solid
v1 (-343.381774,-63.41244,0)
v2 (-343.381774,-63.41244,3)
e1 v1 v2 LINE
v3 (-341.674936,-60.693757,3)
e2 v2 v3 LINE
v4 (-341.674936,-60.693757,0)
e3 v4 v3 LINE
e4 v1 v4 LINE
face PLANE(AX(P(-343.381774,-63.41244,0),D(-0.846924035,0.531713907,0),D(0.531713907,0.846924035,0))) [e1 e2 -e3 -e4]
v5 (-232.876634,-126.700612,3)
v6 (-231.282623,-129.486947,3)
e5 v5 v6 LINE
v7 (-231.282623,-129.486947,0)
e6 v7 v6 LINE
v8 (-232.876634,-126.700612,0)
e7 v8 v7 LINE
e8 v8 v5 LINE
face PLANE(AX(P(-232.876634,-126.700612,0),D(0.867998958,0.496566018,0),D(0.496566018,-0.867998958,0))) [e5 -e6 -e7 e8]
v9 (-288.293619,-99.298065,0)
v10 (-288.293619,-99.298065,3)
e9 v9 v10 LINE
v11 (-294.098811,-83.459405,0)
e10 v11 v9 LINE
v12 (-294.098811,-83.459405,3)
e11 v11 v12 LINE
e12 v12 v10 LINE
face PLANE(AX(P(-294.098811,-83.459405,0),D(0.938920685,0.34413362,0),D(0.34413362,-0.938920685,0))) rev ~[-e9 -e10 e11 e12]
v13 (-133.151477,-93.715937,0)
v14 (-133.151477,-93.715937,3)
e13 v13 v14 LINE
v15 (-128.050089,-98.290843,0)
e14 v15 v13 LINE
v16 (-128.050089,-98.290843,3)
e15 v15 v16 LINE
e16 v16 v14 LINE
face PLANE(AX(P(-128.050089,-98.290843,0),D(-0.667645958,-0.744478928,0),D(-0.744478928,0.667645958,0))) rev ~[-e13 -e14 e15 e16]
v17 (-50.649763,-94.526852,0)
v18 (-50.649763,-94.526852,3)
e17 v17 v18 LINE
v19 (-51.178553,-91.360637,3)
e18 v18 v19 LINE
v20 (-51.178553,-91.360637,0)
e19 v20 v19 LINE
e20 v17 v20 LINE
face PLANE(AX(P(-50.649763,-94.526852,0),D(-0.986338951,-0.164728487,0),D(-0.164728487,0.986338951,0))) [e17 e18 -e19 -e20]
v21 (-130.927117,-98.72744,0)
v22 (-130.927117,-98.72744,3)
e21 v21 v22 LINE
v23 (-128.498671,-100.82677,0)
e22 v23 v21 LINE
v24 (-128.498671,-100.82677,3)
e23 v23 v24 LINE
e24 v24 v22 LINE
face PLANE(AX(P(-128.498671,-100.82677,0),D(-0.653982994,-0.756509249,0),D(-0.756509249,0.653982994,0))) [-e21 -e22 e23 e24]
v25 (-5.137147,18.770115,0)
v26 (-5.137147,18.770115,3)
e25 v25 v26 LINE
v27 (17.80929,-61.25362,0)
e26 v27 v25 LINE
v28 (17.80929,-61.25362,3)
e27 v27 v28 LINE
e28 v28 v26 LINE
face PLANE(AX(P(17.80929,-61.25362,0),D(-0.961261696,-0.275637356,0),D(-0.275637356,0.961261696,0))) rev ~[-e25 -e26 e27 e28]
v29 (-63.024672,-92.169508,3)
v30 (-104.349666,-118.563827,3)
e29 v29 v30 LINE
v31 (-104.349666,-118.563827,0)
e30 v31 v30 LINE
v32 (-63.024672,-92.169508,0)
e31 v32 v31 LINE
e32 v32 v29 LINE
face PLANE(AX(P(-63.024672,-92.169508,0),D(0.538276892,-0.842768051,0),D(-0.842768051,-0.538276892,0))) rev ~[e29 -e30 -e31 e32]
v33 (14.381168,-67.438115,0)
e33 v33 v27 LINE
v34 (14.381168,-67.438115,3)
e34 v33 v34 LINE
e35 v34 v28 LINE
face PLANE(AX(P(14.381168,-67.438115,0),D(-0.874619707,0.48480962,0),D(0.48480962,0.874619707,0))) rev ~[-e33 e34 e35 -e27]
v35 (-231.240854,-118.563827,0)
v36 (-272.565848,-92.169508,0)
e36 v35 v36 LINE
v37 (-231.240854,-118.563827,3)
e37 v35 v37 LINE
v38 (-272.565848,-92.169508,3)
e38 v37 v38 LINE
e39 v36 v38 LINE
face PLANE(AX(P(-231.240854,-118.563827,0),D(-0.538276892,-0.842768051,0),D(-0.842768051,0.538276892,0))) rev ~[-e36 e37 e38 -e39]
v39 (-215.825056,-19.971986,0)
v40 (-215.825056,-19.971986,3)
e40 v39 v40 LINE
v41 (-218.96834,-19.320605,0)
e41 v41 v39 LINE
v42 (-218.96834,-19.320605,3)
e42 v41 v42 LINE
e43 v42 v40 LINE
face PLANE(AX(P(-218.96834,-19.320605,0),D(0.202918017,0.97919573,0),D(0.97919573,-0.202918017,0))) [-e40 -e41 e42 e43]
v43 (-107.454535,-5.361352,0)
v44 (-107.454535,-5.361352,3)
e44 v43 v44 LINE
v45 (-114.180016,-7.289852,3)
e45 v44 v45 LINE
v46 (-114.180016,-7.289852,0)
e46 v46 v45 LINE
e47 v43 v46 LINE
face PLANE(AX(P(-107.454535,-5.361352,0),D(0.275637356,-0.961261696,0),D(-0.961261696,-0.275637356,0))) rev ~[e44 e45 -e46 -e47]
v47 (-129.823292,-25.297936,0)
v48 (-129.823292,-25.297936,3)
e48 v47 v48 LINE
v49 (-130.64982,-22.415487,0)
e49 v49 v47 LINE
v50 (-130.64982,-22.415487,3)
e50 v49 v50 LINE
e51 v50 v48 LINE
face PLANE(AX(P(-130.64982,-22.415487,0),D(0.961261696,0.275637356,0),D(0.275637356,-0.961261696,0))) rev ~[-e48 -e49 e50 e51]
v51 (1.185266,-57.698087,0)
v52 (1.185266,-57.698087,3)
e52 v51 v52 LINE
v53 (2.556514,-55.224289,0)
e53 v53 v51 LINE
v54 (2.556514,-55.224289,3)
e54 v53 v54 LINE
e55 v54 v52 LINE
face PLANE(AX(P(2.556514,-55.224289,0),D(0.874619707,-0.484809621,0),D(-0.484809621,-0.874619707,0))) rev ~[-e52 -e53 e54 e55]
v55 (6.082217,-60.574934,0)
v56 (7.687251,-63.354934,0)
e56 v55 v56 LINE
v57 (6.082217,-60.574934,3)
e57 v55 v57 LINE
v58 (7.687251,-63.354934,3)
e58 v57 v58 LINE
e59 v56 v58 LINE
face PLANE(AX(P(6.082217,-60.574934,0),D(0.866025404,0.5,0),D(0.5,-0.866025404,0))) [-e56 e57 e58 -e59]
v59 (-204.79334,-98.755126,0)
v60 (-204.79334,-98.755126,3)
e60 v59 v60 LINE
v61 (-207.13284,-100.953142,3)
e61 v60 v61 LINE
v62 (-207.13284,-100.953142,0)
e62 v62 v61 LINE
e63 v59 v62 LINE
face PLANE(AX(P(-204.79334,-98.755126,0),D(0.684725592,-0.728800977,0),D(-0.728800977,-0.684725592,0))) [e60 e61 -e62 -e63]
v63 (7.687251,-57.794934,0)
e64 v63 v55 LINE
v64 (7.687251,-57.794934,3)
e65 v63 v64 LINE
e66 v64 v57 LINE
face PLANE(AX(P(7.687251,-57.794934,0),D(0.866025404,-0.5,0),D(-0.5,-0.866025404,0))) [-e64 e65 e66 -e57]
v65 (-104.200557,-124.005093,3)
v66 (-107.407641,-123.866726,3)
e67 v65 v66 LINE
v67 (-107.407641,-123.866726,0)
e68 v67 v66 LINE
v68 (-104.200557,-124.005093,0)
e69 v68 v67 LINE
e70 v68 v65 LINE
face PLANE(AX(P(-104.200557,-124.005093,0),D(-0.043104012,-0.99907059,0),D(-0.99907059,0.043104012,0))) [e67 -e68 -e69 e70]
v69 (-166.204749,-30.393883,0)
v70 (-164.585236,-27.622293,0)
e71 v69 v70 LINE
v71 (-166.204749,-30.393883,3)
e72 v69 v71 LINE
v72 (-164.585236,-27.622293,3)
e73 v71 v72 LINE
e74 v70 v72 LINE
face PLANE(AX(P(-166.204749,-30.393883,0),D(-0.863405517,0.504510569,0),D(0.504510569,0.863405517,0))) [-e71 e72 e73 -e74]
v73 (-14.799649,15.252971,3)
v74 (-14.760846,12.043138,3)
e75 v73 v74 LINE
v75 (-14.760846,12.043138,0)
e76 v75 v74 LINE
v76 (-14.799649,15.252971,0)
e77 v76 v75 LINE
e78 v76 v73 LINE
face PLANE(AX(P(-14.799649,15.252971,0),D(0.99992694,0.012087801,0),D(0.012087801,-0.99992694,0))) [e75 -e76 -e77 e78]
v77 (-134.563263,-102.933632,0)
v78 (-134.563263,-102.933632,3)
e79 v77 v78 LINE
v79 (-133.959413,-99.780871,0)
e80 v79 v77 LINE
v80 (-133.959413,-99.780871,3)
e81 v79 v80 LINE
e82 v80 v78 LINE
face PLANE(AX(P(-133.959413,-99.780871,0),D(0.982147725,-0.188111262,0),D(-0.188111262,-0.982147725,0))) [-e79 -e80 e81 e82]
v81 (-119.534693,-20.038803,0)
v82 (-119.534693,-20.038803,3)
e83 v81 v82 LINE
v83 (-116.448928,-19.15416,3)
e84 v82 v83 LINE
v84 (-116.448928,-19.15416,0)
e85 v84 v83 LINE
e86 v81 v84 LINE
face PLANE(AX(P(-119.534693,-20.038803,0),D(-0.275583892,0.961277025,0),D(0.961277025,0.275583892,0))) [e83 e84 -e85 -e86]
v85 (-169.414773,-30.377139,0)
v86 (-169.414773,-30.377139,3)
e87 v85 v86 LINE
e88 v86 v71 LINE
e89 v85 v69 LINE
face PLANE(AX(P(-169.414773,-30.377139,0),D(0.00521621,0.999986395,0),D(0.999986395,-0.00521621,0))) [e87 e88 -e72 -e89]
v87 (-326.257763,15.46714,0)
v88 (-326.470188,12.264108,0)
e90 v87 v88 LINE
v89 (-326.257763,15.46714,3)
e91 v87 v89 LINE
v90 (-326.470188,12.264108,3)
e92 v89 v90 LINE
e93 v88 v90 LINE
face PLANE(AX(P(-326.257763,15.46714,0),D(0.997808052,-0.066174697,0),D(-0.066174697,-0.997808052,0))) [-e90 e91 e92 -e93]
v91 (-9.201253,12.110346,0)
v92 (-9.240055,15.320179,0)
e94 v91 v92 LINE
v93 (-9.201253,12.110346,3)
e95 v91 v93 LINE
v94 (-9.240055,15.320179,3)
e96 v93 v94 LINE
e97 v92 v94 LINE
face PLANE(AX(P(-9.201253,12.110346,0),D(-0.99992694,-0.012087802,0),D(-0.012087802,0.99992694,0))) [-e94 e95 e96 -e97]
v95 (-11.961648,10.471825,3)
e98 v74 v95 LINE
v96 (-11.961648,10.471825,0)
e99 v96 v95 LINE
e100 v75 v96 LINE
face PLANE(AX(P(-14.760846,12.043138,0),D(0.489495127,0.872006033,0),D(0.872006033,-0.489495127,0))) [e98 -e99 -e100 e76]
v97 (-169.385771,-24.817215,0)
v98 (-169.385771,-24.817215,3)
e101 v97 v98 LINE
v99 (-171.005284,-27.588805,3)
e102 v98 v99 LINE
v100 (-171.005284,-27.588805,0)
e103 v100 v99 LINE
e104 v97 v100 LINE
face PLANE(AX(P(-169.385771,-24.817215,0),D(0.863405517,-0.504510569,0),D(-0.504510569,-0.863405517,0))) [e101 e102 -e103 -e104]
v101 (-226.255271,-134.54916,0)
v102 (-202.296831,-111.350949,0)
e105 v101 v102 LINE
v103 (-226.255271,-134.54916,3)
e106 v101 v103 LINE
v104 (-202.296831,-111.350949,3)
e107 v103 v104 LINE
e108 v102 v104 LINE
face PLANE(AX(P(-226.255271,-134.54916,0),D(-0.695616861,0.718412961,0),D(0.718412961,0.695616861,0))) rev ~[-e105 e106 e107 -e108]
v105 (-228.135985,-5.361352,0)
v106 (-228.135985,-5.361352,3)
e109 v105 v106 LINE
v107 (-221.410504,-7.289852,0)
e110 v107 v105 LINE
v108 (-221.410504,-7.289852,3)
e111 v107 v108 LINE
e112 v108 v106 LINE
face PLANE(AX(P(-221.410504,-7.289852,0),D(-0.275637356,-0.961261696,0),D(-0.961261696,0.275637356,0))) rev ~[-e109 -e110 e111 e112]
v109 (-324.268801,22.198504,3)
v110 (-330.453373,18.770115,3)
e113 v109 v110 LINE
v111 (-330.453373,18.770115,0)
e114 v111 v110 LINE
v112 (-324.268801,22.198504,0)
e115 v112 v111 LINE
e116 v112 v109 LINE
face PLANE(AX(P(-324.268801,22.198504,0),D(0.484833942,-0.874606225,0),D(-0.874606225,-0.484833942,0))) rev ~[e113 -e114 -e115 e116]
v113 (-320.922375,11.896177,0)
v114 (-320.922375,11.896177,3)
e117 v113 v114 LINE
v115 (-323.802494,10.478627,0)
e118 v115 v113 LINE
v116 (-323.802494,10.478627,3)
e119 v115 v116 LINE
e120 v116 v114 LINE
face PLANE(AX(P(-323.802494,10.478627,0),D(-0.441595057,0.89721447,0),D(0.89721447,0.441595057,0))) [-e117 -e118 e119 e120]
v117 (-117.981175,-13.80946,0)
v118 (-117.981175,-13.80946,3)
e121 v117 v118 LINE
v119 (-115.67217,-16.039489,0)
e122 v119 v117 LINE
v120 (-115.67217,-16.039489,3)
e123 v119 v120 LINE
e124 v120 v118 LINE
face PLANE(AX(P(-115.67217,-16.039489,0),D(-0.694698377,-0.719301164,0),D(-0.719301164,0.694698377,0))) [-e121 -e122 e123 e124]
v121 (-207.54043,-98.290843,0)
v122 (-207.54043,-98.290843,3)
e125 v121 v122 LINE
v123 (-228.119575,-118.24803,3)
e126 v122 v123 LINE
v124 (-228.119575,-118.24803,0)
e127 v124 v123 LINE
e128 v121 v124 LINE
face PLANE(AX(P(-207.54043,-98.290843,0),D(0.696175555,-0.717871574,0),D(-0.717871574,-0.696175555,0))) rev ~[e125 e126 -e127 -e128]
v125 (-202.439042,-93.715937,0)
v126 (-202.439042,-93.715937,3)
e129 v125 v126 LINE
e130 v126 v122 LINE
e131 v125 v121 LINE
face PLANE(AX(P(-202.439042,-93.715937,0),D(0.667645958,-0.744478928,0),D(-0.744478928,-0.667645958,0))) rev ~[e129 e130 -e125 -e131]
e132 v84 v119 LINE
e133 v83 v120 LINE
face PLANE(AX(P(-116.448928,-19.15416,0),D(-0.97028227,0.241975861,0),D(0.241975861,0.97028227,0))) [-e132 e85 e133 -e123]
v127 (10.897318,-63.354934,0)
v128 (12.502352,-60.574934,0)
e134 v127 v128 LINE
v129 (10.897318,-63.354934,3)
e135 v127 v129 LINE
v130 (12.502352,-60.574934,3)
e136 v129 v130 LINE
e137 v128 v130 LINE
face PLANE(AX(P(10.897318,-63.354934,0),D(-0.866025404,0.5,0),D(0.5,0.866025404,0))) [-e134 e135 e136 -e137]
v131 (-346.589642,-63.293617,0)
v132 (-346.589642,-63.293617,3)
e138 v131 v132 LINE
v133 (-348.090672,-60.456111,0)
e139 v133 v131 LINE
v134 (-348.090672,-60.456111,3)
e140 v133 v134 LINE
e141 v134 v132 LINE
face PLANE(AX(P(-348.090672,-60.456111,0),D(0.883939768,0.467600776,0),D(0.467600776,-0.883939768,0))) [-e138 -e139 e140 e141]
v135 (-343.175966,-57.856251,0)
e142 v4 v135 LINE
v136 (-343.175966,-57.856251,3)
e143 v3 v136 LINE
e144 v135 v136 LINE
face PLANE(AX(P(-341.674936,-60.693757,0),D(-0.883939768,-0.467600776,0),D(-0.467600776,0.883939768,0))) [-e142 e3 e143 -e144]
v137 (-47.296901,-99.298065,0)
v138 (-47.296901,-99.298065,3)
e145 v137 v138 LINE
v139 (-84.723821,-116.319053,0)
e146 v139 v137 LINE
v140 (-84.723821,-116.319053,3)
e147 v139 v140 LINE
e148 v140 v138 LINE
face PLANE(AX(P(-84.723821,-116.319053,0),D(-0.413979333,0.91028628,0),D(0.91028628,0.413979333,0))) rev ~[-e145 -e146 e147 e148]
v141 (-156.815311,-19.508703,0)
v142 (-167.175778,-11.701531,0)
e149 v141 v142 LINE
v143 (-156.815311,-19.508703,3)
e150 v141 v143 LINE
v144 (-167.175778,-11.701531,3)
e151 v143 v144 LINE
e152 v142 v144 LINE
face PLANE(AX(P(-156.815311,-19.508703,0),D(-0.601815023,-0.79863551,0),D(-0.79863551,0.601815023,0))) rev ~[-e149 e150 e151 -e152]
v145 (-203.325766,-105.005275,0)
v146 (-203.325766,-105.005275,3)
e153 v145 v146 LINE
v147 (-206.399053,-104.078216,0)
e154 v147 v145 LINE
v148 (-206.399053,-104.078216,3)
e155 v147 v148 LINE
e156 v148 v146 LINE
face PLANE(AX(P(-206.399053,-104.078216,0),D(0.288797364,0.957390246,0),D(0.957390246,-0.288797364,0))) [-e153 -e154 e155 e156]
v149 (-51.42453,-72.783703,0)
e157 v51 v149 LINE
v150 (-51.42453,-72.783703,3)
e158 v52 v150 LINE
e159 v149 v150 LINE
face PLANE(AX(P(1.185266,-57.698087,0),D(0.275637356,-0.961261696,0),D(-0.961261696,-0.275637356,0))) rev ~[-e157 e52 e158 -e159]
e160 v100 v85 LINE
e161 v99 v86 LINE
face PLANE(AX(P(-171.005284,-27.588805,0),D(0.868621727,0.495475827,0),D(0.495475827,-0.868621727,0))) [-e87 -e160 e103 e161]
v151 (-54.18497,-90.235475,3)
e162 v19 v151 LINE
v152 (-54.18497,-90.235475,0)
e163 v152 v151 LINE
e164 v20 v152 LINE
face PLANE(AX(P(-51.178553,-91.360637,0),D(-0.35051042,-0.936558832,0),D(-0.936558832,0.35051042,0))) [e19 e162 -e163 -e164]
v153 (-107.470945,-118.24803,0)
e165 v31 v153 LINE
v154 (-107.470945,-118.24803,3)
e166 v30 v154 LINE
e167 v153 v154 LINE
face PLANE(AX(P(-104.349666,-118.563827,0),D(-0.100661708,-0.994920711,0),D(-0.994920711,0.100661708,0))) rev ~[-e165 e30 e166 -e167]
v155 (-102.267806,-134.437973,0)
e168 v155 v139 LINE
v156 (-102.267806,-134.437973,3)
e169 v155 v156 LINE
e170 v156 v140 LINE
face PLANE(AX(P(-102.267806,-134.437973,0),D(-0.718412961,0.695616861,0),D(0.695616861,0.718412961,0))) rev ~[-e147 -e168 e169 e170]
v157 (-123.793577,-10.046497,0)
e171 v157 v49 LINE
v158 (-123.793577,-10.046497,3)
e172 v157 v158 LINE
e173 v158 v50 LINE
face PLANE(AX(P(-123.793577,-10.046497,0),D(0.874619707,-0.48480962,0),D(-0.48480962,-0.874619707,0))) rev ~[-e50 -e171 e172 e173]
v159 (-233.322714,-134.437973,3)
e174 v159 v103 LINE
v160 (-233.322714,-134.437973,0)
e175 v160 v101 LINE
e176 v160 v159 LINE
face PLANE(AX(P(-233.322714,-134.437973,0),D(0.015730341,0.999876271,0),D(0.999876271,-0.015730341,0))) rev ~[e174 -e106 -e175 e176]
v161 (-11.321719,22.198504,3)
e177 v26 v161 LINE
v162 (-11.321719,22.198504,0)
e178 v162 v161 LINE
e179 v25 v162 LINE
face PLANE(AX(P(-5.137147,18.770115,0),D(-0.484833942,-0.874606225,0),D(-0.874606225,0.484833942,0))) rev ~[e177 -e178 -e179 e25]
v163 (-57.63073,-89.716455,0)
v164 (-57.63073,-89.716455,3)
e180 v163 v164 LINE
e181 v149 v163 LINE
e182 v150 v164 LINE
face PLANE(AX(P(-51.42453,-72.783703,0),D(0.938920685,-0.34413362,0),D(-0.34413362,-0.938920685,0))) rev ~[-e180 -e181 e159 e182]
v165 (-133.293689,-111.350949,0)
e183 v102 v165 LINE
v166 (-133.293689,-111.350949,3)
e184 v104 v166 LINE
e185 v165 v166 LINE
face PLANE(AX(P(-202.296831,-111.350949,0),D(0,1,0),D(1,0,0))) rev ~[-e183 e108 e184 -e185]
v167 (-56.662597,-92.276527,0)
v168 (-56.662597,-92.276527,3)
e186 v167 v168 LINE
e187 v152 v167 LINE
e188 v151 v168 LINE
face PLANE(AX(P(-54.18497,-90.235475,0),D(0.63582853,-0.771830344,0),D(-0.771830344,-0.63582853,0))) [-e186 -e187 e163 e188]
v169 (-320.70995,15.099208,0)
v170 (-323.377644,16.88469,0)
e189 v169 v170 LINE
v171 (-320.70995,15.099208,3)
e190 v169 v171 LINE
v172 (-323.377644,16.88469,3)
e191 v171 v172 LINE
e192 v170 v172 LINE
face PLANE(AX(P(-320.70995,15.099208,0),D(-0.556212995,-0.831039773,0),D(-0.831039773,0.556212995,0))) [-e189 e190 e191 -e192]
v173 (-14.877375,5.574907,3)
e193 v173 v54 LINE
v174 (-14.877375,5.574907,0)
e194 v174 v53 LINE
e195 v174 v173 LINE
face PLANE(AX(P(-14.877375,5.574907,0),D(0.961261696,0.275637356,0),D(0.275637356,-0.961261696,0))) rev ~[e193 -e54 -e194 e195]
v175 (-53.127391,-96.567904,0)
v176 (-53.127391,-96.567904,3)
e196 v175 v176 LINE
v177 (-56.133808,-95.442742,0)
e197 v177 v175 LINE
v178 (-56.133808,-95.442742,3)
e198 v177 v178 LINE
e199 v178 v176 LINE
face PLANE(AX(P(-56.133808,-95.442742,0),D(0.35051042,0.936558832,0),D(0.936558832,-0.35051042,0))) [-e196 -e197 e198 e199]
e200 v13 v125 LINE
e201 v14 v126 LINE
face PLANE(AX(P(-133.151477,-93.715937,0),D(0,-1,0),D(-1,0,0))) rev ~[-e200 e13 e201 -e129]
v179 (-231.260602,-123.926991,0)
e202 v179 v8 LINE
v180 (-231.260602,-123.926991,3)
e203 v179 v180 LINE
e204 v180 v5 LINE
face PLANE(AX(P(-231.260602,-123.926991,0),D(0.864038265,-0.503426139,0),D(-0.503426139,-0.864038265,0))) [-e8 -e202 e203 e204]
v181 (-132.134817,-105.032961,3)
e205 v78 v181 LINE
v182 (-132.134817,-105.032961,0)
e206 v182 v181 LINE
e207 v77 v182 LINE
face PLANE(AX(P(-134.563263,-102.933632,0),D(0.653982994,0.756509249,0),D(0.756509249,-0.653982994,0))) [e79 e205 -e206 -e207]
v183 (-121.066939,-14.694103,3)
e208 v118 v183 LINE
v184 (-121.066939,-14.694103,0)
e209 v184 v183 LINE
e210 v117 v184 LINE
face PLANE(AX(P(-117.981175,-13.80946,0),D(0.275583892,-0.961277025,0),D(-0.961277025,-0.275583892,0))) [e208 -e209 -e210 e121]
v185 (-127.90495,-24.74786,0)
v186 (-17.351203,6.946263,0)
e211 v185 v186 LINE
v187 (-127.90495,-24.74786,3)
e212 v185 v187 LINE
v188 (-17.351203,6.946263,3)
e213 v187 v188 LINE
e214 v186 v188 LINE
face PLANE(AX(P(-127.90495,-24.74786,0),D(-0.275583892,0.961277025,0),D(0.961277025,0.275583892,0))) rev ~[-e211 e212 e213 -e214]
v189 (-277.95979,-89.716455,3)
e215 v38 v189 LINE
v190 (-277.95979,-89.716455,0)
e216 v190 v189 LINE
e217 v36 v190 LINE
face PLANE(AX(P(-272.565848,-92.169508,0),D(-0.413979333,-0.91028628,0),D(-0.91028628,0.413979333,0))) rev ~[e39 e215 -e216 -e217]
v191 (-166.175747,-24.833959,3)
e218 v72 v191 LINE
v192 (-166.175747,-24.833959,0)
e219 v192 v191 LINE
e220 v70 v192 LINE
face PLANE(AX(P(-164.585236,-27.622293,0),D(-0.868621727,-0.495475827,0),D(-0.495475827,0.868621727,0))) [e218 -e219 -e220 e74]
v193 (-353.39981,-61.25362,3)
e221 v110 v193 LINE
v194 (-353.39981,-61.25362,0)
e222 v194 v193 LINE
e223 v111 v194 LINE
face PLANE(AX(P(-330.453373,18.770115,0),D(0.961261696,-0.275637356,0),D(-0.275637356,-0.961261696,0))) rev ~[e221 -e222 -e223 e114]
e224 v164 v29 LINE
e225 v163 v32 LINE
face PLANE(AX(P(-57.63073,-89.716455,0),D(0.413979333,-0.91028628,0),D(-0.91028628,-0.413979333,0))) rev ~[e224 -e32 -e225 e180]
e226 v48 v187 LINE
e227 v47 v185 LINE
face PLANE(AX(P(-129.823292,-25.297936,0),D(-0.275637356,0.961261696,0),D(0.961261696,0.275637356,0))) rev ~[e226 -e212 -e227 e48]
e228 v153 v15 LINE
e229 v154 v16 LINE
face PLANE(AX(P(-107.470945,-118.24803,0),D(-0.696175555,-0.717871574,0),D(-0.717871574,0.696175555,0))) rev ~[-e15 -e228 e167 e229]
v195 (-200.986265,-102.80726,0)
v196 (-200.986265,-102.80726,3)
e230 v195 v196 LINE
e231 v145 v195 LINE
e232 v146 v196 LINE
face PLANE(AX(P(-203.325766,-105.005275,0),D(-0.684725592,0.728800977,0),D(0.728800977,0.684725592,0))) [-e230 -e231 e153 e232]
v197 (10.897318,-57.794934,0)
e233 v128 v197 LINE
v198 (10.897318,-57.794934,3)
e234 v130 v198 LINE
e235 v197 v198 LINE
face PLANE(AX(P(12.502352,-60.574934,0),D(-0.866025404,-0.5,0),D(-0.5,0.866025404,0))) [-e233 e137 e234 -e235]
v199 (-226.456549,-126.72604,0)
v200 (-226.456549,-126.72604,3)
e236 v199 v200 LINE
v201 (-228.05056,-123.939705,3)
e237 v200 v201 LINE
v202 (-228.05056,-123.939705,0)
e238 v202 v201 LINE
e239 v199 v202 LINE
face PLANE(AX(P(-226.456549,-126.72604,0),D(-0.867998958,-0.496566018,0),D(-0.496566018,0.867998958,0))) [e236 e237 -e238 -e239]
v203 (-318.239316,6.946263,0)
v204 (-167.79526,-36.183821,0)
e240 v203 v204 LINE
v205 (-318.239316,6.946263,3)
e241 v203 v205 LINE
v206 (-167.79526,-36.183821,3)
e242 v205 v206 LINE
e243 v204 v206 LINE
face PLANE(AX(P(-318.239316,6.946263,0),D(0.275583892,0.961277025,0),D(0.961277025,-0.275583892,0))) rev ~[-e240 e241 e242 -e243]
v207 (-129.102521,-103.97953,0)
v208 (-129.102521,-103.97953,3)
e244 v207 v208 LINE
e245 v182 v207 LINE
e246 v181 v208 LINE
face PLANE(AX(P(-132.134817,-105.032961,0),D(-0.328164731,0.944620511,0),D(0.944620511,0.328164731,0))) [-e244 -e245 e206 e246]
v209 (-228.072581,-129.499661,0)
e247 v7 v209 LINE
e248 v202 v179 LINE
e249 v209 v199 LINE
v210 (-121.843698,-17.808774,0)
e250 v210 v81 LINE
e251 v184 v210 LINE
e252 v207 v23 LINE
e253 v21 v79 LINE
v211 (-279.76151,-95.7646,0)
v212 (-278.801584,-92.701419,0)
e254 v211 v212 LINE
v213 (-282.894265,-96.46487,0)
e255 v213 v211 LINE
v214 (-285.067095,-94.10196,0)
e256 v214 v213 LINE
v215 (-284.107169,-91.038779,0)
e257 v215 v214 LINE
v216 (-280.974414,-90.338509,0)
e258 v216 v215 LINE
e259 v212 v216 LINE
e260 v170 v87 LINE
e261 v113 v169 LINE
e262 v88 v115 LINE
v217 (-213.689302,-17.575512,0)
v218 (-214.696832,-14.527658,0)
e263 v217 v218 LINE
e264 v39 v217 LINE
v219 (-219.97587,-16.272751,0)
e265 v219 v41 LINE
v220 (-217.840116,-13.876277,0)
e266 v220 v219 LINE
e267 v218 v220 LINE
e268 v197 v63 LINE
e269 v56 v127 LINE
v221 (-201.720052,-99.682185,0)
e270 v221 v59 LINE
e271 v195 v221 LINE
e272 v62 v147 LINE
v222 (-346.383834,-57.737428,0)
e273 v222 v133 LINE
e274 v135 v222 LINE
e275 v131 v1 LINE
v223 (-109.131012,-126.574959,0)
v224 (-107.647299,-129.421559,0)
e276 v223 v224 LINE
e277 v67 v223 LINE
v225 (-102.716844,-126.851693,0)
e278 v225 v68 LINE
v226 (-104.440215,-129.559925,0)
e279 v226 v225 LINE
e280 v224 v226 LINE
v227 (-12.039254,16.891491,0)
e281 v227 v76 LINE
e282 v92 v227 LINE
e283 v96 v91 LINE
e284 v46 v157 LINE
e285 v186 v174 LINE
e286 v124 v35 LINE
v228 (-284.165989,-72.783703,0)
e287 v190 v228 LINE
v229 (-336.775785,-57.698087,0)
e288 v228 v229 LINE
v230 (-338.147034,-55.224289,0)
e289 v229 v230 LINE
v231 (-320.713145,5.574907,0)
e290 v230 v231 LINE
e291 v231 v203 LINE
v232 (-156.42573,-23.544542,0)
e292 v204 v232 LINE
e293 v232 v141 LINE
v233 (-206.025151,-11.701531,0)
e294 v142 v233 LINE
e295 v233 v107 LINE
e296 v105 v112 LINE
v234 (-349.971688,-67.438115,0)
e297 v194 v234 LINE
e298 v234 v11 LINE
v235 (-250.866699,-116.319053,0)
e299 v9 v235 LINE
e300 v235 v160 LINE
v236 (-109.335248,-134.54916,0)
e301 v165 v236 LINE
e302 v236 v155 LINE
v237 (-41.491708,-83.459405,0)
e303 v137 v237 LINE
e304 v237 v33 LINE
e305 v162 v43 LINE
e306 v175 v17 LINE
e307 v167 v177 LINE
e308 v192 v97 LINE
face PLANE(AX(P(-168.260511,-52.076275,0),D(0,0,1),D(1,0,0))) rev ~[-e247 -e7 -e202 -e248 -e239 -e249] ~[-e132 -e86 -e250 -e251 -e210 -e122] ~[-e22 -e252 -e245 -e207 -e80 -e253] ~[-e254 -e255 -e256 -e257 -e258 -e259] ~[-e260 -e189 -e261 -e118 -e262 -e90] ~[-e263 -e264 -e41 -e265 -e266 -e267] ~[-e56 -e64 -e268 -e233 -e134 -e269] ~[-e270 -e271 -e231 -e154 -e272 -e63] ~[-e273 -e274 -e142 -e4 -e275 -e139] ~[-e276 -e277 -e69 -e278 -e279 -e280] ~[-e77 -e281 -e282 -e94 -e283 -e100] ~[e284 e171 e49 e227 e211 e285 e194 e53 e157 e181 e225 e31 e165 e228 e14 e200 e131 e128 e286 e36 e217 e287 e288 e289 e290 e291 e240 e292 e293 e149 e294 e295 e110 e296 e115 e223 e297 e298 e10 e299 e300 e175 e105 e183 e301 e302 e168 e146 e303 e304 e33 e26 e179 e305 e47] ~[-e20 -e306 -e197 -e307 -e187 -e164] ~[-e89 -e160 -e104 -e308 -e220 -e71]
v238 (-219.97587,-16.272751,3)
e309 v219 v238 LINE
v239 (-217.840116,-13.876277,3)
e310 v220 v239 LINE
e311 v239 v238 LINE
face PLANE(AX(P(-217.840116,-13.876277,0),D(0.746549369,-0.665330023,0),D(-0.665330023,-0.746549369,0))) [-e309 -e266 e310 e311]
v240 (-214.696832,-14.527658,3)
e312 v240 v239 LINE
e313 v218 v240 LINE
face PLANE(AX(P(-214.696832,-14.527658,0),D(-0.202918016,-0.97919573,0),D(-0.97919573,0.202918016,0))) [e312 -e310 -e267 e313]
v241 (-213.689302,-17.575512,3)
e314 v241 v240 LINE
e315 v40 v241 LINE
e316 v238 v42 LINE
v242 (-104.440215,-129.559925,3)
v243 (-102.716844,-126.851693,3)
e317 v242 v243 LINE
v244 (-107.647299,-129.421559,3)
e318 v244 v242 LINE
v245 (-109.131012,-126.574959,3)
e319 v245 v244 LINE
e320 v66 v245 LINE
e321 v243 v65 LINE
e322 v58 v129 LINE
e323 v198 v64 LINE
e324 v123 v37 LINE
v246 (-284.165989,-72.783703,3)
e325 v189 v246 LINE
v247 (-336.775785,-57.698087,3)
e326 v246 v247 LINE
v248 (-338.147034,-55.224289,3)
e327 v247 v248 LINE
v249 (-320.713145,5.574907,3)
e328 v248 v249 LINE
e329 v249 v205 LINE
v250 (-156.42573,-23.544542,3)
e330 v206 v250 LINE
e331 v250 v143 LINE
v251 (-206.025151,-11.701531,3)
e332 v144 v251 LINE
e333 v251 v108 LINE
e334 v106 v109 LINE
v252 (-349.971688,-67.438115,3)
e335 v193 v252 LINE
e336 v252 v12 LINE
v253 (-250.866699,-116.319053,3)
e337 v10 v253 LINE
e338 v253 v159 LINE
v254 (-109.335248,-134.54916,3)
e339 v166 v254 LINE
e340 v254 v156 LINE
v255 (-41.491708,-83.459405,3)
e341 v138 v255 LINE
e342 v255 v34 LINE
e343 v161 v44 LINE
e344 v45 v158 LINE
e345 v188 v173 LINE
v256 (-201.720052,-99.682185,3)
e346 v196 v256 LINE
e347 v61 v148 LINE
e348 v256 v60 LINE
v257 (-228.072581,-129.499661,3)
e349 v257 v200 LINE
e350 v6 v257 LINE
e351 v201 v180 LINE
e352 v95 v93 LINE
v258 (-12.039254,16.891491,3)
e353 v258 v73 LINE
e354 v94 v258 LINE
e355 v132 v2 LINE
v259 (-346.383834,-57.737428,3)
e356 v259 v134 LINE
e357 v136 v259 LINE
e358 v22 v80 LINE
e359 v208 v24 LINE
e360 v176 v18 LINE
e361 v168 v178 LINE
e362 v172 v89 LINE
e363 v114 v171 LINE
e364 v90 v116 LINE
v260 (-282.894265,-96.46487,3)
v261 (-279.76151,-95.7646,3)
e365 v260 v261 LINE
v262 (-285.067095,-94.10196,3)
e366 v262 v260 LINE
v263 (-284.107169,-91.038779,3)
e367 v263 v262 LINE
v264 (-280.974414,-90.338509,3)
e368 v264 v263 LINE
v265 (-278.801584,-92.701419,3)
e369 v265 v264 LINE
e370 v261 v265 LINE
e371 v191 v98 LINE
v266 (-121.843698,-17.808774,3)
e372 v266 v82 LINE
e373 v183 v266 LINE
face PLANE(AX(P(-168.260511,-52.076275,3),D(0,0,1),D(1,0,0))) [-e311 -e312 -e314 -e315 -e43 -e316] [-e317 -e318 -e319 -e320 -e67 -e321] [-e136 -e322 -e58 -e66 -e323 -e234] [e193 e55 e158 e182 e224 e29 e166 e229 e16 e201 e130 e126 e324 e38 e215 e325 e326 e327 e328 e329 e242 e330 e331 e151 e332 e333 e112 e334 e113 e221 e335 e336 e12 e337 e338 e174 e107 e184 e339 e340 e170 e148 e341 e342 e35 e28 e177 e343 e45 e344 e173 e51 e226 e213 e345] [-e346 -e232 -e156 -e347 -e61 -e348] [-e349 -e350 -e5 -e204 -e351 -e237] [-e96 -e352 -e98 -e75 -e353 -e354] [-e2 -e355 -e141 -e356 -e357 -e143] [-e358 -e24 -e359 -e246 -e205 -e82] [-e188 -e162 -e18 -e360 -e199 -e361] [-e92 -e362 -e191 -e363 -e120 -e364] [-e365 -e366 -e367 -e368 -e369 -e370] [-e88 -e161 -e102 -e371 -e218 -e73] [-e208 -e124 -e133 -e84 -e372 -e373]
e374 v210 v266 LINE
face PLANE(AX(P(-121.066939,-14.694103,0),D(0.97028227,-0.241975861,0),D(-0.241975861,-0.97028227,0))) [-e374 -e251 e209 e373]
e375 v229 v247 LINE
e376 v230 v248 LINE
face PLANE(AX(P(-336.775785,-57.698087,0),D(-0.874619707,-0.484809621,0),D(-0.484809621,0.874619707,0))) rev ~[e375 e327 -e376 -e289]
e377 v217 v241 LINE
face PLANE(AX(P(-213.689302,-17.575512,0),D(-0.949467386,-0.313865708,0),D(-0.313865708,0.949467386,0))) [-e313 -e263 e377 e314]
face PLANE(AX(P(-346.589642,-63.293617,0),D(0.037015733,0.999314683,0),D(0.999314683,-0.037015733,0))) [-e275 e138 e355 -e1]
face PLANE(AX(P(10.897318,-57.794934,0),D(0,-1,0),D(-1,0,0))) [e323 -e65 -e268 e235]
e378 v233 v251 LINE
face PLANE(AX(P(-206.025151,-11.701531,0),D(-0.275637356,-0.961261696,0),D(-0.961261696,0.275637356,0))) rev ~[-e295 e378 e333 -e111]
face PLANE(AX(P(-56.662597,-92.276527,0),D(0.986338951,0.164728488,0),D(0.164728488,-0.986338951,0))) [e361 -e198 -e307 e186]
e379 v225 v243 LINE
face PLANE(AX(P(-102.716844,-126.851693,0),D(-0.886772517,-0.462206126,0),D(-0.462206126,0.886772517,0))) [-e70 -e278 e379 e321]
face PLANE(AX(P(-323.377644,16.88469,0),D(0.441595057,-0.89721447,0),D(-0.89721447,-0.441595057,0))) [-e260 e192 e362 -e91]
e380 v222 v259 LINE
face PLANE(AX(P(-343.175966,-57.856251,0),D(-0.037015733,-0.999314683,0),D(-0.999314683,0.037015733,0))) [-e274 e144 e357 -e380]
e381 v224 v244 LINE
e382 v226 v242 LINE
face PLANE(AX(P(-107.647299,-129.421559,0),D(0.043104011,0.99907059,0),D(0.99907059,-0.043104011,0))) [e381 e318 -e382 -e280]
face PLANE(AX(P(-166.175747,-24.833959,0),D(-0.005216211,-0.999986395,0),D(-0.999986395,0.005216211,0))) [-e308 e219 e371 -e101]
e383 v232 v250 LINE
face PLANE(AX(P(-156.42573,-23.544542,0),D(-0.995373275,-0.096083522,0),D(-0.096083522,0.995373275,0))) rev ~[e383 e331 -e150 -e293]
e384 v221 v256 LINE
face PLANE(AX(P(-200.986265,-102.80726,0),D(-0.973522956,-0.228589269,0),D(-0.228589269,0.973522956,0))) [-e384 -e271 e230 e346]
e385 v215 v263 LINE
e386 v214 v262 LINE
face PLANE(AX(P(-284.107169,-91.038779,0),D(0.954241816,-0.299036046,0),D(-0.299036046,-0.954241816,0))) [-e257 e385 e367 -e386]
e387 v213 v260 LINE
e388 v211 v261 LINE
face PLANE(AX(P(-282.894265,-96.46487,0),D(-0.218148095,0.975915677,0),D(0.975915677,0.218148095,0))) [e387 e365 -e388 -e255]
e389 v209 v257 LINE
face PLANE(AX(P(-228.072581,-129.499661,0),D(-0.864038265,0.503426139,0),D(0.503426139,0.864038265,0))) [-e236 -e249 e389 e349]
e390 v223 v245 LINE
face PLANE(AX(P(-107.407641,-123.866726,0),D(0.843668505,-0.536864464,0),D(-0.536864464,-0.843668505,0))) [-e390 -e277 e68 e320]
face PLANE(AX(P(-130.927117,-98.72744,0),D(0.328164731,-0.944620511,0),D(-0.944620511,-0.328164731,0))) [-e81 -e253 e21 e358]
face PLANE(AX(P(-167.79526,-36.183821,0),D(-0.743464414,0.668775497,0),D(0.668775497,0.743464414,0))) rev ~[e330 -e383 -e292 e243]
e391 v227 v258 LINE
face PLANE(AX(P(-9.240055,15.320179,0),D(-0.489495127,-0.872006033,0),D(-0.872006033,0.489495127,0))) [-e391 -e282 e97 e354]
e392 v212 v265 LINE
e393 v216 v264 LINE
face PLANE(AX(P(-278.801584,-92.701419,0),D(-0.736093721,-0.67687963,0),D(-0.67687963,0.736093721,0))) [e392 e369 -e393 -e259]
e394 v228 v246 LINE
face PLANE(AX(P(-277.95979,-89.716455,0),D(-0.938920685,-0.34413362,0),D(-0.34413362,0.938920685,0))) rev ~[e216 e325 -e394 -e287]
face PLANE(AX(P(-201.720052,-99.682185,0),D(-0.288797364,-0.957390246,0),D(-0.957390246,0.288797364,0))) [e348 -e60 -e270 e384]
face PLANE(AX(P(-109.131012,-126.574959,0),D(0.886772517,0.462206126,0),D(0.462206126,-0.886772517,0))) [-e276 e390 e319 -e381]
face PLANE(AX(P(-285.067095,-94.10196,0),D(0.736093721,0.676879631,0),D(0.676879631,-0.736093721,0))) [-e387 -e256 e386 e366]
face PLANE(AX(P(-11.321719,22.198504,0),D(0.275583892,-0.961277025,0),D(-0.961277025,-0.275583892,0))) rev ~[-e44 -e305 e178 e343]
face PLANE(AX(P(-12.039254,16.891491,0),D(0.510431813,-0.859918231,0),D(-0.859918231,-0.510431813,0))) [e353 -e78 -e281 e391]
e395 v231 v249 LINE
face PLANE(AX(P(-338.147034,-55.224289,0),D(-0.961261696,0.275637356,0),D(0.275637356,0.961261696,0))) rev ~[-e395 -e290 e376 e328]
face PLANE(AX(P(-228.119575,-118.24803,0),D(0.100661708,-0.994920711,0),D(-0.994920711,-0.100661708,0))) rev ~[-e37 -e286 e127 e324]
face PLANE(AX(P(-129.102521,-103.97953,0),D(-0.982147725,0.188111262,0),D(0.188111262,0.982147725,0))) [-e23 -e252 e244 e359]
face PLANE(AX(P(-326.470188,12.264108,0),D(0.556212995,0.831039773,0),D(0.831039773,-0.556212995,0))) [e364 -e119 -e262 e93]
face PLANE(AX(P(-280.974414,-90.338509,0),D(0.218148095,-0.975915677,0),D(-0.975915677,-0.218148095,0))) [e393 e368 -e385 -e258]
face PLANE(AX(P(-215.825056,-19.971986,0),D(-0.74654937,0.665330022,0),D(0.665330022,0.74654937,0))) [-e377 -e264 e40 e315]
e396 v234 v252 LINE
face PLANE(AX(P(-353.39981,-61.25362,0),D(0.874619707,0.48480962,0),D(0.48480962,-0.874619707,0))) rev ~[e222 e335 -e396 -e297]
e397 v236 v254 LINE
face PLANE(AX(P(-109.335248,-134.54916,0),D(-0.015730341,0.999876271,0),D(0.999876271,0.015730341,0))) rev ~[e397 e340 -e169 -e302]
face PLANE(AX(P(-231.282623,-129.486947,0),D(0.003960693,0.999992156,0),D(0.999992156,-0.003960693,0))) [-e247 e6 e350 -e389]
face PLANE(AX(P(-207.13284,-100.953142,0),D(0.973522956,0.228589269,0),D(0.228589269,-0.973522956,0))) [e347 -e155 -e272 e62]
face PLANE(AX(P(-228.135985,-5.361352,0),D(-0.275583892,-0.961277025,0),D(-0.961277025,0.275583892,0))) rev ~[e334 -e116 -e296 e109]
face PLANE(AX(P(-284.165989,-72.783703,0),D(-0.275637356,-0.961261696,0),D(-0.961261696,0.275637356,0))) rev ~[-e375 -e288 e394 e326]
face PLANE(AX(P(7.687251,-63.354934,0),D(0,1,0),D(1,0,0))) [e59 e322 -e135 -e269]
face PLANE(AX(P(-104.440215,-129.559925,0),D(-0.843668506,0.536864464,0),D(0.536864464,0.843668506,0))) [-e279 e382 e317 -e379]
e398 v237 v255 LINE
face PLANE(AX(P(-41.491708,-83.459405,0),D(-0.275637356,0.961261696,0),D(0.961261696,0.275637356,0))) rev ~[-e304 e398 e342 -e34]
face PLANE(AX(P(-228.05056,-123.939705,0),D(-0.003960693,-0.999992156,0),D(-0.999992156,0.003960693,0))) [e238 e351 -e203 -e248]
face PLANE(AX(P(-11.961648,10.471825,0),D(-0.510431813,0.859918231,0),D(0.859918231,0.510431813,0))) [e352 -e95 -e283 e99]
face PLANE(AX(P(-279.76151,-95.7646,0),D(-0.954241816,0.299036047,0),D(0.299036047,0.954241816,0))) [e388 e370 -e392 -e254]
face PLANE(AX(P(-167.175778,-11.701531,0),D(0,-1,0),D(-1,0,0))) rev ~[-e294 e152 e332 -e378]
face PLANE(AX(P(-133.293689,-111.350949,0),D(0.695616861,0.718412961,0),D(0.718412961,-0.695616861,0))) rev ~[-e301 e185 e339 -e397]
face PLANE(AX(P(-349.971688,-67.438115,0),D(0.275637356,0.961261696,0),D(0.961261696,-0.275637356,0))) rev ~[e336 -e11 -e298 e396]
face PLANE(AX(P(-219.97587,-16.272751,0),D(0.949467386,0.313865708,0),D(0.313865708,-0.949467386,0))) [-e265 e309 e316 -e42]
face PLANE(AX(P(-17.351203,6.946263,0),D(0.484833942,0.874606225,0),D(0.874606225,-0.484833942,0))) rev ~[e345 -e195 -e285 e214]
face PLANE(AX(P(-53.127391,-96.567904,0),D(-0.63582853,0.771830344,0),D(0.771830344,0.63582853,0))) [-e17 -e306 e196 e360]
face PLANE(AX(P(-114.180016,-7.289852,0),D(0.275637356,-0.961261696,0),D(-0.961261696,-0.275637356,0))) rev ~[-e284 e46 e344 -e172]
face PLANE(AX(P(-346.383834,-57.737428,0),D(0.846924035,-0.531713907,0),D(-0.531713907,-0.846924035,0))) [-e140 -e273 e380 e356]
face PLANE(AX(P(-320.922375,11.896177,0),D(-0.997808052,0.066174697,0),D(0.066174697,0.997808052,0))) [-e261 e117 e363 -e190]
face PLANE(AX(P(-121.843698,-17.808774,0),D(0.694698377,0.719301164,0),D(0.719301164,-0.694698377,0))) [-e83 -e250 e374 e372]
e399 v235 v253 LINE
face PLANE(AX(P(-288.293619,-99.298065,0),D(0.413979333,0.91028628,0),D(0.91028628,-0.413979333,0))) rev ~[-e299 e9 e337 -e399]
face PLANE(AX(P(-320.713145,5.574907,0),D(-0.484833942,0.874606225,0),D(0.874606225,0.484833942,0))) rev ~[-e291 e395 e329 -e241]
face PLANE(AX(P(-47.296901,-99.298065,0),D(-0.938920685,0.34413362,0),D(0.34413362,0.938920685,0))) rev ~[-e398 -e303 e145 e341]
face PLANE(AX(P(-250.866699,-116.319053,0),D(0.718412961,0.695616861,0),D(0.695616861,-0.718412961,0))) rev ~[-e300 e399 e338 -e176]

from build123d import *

# Parameters (mm, degrees)
BOSS_EXTRU_1_DEPTH = 3


with BuildPart() as part:
    # Esquisse1 → Boss.-Extru.1 (new body)
    with BuildSketch(Plane.XY):
        Polygon((-102.267806075, -134.437972545), (-84.723821109, -116.319052626), (-47.296900898, -99.298065073), (-41.491708262, -83.459404935), (14.381168218, -67.438115415), (17.809289919, -61.253620157), (-5.137146777, 18.770114611), (-11.32171868, 22.19850363), (-107.454535032, -5.36135166), (-114.180015808, -7.289852239), (-123.793577085, -10.046496577), (-130.649820486, -22.415487094), (-129.8232917, -25.297935522), (-127.904950096, -24.747859919), (-17.351203316, 6.946262636), (-14.877374555, 5.574907028), (2.556514314, -55.224288823), (1.185265633, -57.698086926), (-51.424530344, -72.783703169), (-57.630729871, -89.716454796), (-63.024672228, -92.169507978), (-104.349665635, -118.563827288), (-107.470944884, -118.248029963), (-128.050089261, -98.290842938), (-133.151477342, -93.715936913), (-202.439042401, -93.715936913), (-207.540430482, -98.290842938), (-228.119574859, -118.248029963), (-231.240854108, -118.563827288), (-272.565847516, -92.169507978), (-277.959789872, -89.716454796), (-284.165989399, -72.783703169), (-336.775785376, -57.698086926), (-338.147034057, -55.224288823), (-320.713145188, 5.574907028), (-318.239316427, 6.946262636), (-167.795259872, -36.183821192), (-156.425730461, -23.544541546), (-156.815310501, -19.508703235), (-167.175777529, -11.701531345), (-206.025150502, -11.701531345), (-221.410503936, -7.289852239), (-228.135984711, -5.36135166), (-324.268801063, 22.19850363), (-330.453372966, 18.770114611), (-353.399809662, -61.253620157), (-349.971687961, -67.438115415), (-294.098811481, -83.459404935), (-288.293618845, -99.298065073), (-250.866698634, -116.319052626), (-233.322713669, -134.437972545), (-226.255271496, -134.549159576), (-202.296830677, -111.350948678), (-133.293689066, -111.350948678), (-109.335248247, -134.549159576), align=None)
        Polygon((-214.696831686, -14.527657653), (-217.840116073, -13.876277124), (-219.975870353, -16.272750989), (-218.968340246, -19.320605385), (-215.825055858, -19.971985915), (-213.689301579, -17.575512049), align=None, mode=Mode.SUBTRACT)
        Polygon((-166.175746894, -24.833958909), (-169.385770719, -24.817214521), (-171.005283697, -27.588804506), (-169.414772849, -30.37713888), (-166.204749024, -30.393883267), (-164.585236046, -27.622293282), align=None, mode=Mode.SUBTRACT)
        Polygon((-115.672169645, -16.039488624), (-117.981174931, -13.809459943), (-121.066939064, -14.694102838), (-121.84369791, -17.808774414), (-119.534692623, -20.038803095), (-116.448928491, -19.154160201), align=None, mode=Mode.SUBTRACT)
        Polygon((-9.240055353, 15.320178943), (-12.039253575, 16.891491339), (-14.799649138, 15.252970767), (-14.76084648, 12.043137798), (-11.961648258, 10.471825402), (-9.201252694, 12.110345974), align=None, mode=Mode.SUBTRACT)
        Polygon((12.502351781, -60.574933915), (10.897318032, -57.794933915), (7.687250536, -57.794933915), (6.082216787, -60.574933915), (7.687250536, -63.354933915), (10.897318032, -63.354933915), align=None, mode=Mode.SUBTRACT)
        Polygon((-50.649763202, -94.526851626), (-51.178552765, -91.36063702), (-54.18496983, -90.235474912), (-56.662597331, -92.27652741), (-56.133807767, -95.442742016), (-53.127390703, -96.567904124), align=None, mode=Mode.SUBTRACT)
        Polygon((-104.440215275, -129.559925429), (-102.716844109, -126.851692582), (-104.200556971, -124.005092948), (-107.407640999, -123.866726161), (-109.131012166, -126.574959009), (-107.647299303, -129.421558643), align=None, mode=Mode.SUBTRACT)
        Polygon((-132.134816884, -105.032961295), (-129.102521286, -103.979530359), (-128.498671438, -100.826769871), (-130.927117189, -98.727440319), (-133.959412787, -99.780871255), (-134.563262635, -102.933631743), align=None, mode=Mode.SUBTRACT)
        Polygon((-200.986265397, -102.807259839), (-201.720052379, -99.68218544), (-204.793339689, -98.755126408), (-207.132840016, -100.953141775), (-206.399053033, -104.078216174), (-203.325765724, -105.005275206), align=None, mode=Mode.SUBTRACT)
        Polygon((-228.072581173, -129.499661036), (-226.456549288, -126.726039887), (-228.050559721, -123.939704646), (-231.260602039, -123.926990555), (-232.876633924, -126.700611704), (-231.282623491, -129.486946945), align=None, mode=Mode.SUBTRACT)
        Polygon((-279.761510176, -95.764600045), (-278.801584282, -92.701419409), (-280.974413583, -90.338508881), (-284.107168778, -91.03877899), (-285.067094671, -94.101959627), (-282.89426537, -96.464870154), align=None, mode=Mode.SUBTRACT)
        Polygon((-343.381773974, -63.412440235), (-341.674936445, -60.693756917), (-343.175966498, -57.856250598), (-346.38383408, -57.737427596), (-348.09067161, -60.456110913), (-346.589641557, -63.293617233), align=None, mode=Mode.SUBTRACT)
        Polygon((-323.377643582, 16.884689567), (-326.25776259, 15.467139628), (-326.470187835, 12.264108431), (-323.802494072, 10.478627174), (-320.922375064, 11.896177113), (-320.709949819, 15.09920831), align=None, mode=Mode.SUBTRACT)
    extrude(amount=BOSS_EXTRU_1_DEPTH)


solid = part.part
